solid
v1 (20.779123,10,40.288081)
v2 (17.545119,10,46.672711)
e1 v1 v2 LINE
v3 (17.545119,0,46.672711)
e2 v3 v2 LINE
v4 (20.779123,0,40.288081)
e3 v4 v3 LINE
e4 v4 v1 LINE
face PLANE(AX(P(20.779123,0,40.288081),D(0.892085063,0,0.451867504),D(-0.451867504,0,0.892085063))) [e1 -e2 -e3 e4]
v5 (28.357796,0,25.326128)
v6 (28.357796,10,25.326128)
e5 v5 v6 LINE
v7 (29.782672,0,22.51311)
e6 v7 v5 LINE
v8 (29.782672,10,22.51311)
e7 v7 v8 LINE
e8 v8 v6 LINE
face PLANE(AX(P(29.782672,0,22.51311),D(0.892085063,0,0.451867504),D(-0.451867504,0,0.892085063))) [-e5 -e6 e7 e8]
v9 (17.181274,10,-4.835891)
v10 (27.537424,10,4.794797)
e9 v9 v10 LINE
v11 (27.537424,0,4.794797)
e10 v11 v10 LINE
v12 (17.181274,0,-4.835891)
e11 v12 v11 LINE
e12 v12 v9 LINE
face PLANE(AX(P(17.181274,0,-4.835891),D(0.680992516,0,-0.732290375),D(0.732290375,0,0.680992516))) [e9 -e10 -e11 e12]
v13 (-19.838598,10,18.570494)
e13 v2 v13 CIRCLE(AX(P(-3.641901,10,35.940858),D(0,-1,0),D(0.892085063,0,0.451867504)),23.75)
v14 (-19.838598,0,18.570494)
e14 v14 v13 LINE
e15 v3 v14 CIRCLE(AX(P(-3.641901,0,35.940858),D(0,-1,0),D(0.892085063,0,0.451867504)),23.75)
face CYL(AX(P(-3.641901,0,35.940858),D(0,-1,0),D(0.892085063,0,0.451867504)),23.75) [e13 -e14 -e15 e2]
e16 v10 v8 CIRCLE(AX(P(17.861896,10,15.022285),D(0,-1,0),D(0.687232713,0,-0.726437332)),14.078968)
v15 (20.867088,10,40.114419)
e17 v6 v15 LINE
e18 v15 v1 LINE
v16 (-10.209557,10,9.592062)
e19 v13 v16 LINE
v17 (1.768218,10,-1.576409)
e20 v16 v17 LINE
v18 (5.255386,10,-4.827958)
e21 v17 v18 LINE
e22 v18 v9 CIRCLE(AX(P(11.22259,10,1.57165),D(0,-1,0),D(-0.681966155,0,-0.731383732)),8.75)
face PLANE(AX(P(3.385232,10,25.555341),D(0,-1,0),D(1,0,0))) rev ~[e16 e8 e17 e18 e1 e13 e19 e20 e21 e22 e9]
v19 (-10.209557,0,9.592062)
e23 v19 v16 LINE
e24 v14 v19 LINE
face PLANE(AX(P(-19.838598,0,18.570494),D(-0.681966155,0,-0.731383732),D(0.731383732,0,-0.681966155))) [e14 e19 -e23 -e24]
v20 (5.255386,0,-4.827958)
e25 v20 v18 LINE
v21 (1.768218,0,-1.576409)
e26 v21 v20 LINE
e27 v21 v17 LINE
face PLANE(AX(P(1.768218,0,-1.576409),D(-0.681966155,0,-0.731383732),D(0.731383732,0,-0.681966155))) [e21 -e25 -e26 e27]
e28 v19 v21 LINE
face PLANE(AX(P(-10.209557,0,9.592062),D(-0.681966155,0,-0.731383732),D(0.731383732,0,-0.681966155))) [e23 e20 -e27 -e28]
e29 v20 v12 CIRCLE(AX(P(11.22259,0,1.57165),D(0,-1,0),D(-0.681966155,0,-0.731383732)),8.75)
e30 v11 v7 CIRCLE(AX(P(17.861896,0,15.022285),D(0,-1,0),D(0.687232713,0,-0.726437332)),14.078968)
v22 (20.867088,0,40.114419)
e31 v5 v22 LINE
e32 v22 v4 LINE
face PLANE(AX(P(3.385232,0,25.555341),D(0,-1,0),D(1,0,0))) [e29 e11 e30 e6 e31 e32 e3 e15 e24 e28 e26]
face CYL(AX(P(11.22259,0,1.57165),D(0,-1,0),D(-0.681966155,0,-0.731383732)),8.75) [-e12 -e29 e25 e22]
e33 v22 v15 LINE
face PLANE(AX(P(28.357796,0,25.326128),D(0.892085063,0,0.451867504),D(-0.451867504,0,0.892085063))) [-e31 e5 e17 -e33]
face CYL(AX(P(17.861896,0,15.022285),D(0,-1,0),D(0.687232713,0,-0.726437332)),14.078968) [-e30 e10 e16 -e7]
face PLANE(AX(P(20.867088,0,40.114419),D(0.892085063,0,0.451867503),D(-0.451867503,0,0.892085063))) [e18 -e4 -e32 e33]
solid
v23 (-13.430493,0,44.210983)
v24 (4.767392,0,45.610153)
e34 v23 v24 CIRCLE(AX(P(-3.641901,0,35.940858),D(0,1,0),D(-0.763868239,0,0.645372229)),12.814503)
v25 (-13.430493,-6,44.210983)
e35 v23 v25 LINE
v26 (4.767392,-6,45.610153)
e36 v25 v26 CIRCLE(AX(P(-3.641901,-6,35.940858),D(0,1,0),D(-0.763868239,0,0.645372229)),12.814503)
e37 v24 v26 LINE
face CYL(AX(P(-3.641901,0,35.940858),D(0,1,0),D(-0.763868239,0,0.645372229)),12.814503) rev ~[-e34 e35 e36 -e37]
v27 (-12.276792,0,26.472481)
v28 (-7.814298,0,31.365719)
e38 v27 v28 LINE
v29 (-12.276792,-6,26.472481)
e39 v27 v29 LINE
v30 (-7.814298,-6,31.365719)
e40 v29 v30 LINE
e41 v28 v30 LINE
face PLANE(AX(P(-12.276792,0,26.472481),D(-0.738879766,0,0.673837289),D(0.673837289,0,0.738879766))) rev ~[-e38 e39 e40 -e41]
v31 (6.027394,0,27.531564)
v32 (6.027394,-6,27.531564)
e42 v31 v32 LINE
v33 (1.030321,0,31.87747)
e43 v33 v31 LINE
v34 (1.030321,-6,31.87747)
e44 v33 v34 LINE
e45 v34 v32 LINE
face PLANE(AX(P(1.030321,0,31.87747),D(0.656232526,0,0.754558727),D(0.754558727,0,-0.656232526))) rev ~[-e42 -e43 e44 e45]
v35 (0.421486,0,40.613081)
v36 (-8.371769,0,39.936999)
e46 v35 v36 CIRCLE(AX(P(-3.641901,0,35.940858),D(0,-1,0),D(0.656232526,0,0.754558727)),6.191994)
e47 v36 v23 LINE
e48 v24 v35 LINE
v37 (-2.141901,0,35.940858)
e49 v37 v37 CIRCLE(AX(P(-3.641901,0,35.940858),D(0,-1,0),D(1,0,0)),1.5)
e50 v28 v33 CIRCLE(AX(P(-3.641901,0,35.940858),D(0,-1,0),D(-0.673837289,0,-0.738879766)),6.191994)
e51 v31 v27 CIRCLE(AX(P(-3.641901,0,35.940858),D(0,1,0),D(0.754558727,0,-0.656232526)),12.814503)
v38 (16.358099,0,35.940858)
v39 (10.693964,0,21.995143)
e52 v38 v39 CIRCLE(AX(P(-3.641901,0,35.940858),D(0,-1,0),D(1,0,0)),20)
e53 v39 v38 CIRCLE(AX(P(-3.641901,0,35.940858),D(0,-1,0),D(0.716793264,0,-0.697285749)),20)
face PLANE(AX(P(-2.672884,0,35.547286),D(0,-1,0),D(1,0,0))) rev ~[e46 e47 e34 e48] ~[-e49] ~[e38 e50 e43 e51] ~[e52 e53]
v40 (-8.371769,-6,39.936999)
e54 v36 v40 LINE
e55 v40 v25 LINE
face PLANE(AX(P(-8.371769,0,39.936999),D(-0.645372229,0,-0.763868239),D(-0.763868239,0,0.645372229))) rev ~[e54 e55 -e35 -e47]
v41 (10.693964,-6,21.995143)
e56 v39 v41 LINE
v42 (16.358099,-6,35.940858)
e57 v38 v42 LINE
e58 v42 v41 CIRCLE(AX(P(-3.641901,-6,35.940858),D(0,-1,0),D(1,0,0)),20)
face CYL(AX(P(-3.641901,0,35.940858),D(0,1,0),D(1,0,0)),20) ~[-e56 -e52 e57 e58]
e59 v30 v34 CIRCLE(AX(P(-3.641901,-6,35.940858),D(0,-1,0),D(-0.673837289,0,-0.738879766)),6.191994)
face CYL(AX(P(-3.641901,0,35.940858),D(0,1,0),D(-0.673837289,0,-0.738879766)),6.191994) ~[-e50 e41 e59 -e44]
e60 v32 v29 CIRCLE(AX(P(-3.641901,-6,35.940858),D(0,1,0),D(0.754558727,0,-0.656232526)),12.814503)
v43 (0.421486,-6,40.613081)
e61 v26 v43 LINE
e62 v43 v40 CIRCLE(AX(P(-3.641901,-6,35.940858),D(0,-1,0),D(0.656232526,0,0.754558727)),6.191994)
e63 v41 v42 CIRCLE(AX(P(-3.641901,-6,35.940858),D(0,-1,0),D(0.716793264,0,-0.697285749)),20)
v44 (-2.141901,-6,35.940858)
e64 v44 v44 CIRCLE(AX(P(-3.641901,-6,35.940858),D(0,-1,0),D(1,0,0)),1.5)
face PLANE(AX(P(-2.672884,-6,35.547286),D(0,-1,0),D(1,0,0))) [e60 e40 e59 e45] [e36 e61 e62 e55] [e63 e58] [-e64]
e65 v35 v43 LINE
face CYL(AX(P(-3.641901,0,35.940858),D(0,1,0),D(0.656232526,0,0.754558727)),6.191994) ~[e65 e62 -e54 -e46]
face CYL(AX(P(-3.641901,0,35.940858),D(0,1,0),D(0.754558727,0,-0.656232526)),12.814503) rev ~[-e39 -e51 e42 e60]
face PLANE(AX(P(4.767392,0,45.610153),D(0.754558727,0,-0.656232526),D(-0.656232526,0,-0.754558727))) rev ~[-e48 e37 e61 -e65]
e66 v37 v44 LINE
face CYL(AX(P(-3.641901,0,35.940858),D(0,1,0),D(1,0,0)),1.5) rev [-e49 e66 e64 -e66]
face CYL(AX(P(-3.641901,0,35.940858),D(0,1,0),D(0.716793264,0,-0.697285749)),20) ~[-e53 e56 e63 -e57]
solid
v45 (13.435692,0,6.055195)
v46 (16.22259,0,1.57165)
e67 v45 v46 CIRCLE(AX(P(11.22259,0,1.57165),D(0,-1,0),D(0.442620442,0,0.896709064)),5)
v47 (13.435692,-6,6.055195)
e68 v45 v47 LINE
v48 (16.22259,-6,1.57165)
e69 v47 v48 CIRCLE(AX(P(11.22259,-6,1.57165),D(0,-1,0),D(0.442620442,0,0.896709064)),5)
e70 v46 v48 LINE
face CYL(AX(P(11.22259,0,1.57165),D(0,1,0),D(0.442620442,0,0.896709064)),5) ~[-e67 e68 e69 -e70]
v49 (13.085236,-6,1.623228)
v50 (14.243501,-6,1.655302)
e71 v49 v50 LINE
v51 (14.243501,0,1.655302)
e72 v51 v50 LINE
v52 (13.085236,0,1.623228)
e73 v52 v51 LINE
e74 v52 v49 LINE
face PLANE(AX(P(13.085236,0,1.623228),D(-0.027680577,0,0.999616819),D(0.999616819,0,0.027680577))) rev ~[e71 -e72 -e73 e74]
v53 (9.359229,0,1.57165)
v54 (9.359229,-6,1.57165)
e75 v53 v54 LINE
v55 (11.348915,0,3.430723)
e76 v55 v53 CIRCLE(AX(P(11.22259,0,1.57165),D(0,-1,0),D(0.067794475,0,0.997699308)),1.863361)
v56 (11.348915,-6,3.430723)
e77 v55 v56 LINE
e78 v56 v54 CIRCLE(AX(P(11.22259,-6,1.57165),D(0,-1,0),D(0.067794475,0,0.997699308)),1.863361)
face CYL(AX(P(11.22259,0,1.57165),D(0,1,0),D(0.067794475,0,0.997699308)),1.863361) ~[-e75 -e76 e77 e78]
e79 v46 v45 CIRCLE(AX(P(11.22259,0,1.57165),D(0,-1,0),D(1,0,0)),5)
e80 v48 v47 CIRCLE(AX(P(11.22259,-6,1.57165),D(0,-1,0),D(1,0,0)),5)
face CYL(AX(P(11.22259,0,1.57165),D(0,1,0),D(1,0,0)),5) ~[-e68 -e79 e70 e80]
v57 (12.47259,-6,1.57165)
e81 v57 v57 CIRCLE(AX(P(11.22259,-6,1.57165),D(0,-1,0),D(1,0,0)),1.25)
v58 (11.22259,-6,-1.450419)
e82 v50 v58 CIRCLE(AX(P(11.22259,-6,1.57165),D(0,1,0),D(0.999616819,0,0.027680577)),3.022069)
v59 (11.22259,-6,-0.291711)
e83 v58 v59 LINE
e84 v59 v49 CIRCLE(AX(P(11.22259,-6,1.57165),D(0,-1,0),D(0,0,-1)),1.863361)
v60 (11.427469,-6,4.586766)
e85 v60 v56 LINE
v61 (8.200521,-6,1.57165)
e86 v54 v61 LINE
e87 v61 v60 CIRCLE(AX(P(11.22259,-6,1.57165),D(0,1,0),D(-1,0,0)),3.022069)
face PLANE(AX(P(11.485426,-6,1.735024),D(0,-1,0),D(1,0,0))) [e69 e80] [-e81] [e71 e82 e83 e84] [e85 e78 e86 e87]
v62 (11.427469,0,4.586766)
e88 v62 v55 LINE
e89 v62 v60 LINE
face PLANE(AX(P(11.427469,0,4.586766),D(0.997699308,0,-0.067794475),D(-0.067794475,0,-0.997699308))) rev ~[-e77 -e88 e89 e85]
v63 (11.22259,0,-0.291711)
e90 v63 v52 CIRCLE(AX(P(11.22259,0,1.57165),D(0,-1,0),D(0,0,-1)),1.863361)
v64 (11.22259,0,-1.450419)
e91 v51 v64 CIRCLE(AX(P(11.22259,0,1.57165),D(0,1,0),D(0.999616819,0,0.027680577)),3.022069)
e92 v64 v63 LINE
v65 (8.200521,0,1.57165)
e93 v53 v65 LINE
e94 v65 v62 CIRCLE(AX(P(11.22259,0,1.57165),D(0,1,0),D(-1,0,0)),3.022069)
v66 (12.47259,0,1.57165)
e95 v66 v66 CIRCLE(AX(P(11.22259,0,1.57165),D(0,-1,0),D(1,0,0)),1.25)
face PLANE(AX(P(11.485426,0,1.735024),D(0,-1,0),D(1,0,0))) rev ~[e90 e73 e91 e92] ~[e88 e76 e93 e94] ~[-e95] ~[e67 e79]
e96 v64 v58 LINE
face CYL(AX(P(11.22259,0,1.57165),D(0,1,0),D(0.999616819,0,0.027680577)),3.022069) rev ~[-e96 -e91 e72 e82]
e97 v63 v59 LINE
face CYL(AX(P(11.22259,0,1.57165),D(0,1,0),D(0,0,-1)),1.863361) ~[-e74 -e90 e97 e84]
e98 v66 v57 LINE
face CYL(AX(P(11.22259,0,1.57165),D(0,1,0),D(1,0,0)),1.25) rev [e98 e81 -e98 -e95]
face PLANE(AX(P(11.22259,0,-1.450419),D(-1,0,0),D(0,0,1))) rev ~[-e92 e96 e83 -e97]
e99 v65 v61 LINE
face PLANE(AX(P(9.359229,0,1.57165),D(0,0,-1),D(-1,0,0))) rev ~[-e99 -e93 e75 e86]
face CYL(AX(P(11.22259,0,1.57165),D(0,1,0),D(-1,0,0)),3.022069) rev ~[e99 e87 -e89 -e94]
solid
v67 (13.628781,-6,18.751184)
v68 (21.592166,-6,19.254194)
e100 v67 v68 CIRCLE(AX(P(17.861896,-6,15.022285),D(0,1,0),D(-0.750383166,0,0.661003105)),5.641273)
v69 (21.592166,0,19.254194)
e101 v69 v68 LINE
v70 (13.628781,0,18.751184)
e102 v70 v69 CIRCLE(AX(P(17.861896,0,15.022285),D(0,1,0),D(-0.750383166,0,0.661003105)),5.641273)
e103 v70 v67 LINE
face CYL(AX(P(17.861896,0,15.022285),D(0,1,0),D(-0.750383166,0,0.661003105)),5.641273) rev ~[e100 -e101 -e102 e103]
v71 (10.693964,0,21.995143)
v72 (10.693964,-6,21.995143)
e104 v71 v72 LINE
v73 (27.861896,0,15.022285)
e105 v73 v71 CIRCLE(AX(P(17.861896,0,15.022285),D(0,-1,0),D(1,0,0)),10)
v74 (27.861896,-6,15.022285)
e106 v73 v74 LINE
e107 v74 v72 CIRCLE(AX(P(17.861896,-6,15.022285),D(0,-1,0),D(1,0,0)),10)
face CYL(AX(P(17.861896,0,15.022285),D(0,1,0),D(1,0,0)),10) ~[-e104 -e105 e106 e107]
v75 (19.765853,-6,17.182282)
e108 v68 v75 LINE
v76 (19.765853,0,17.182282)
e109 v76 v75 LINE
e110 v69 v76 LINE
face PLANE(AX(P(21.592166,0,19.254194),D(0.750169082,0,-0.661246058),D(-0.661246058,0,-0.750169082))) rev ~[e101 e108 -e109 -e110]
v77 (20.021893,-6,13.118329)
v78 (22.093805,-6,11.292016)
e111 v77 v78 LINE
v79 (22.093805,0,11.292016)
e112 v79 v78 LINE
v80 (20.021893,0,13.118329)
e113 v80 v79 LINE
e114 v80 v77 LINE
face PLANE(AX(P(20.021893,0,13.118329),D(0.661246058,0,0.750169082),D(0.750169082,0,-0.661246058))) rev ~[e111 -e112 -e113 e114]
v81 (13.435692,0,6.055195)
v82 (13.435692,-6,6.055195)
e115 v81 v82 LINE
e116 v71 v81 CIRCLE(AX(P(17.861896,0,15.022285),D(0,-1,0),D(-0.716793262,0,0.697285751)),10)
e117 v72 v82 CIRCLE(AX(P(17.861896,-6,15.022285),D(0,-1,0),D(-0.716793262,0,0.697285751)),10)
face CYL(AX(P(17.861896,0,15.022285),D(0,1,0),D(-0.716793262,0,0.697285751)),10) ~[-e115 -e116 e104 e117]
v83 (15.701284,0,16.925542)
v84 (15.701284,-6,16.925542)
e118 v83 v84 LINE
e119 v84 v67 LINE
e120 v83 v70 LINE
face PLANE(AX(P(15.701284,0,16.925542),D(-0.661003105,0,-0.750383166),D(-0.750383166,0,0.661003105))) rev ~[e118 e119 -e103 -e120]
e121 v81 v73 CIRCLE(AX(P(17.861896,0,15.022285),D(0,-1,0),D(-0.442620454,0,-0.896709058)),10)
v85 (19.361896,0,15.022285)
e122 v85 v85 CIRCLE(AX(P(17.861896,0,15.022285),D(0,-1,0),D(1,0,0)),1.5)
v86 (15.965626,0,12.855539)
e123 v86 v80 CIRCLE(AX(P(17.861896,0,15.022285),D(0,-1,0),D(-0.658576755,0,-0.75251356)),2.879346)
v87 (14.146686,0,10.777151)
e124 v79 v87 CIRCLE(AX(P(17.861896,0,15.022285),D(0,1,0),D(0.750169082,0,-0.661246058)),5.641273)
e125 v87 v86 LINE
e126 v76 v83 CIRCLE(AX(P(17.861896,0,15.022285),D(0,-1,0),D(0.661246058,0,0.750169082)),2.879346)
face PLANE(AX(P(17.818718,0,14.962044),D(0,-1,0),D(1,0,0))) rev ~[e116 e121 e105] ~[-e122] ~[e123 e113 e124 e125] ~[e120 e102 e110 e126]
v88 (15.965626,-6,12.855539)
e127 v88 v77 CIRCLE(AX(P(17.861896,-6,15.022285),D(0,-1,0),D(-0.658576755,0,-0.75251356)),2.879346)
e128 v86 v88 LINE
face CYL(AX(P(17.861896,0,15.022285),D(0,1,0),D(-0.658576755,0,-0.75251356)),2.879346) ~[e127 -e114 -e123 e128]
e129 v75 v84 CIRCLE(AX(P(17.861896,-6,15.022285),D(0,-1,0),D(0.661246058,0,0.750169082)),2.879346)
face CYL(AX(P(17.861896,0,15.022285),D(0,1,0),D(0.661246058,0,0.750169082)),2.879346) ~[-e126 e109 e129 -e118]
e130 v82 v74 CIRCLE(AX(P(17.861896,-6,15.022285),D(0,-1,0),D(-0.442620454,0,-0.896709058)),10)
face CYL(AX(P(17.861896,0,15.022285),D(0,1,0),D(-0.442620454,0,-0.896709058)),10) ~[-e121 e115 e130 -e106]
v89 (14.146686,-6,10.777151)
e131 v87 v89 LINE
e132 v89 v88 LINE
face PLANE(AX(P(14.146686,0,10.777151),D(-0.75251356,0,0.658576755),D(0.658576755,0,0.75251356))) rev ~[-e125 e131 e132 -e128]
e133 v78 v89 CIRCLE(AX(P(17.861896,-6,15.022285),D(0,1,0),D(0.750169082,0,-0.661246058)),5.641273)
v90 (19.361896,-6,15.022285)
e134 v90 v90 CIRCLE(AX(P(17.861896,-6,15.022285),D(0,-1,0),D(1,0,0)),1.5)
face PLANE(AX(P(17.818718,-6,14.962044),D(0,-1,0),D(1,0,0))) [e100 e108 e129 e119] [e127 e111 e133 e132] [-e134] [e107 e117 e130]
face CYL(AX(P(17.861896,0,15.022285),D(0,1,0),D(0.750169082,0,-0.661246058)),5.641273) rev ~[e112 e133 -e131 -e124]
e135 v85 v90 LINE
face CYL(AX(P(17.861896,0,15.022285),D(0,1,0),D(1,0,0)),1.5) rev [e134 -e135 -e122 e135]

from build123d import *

# Parameters (mm, degrees)
F0_R     = 1.5
F1_DEPTH = 6
F0_R_2   = 1.25
F2_DEPTH = 10


with BuildPart() as f1:
    # F0 (on Front) → F1 (new body)
    with BuildSketch(Plane.XZ):
        with BuildLine():
            ThreePointArc((16.3580985837, 35.9408579887), (-22.1718407809, 43.466902577), (10.6939638692, 21.9951430011))
            ThreePointArc((10.6939638692, 21.9951430011), (14.8880379483, 28.4148134004), (16.3580985837, 35.9408579887))
        make_face()
        with BuildLine():
            ThreePointArc((6.0273938907, 27.5315641069), (-2.9016900494, 23.1477511551), (-12.2767915919, 26.4724807793))
            Line((-12.2767915919, 26.4724807793), (-7.8142975918, 31.3657192142))
            ThreePointArc((-7.8142975918, 31.3657192142), (-3.2842298057, 29.7592032207), (1.0303213842, 31.8774703929))
            Line((1.0303213842, 31.8774703929), (6.0273938907, 27.5315641069))
        make_face(mode=Mode.SUBTRACT)
        with Locations((-3.6419014163, 35.9408579887)):
            Circle(F0_R, mode=Mode.SUBTRACT)
        with BuildLine():
            Line((-8.3717686573, 39.9369986937), (-13.4304934995, 44.2109825557))
            ThreePointArc((-13.4304934995, 44.2109825557), (-4.624263657, 48.7176517866), (4.7673924656, 45.6101532957))
            Line((4.7673924656, 45.6101532957), (0.4214861795, 40.6130807892))
            ThreePointArc((0.4214861795, 40.6130807892), (-4.1165808127, 42.1146302652), (-8.3717686573, 39.9369986937))
        make_face(mode=Mode.SUBTRACT)
    extrude(amount=F1_DEPTH)


with BuildPart() as f1b:
    # F0 (on Front) → F1, piece 2 (new body)
    with BuildSketch(Plane.XZ):
        with BuildLine():
            ThreePointArc((13.435691954, 6.055194912), (23.1410041166, 6.529287036), (27.8618964924, 15.0222854872))
            ThreePointArc((27.8618964924, 15.0222854872), (21.6249187996, 24.2872551642), (10.6939638692, 21.9951430011))
            ThreePointArc((10.6939638692, 21.9951430011), (8.0066192055, 13.3271425439), (13.435691954, 6.055194912))
        make_face()
        with BuildLine():
            ThreePointArc((22.093804723, 11.2920162674), (18.2266093558, 9.392814797), (14.1466855378, 10.7771514154))
            Line((14.1466855378, 10.7771514154), (15.9656262669, 12.8555387151))
            ThreePointArc((15.9656262669, 12.8555387151), (18.0480485447, 12.1489634106), (20.0218927007, 13.1183294155))
            Line((20.0218927007, 13.1183294155), (22.093804723, 11.2920162674))
        make_face(mode=Mode.SUBTRACT)
        with Locations((17.8618964924, 15.0222854872)):
            Circle(F0_R, mode=Mode.SUBTRACT)
        with BuildLine():
            Line((21.5921657123, 19.2541937178), (19.7658525641, 17.1822816954))
            ThreePointArc((19.7658525641, 17.1822816954), (17.6803835082, 17.8959043518), (15.7012838619, 16.9255420131))
            Line((15.7012838619, 16.9255420131), (13.6287805547, 18.7511841427))
            ThreePointArc((13.6287805547, 18.7511841427), (17.5062725849, 20.6523376505), (21.5921657123, 19.2541937178))
        make_face(mode=Mode.SUBTRACT)
    extrude(amount=F1_DEPTH)


with BuildPart() as f1c:
    # F0 (on Front) → F1, piece 3 (new body)
    with BuildSketch(Plane.XZ):
        with BuildLine():
            ThreePointArc((16.2225897462, 1.5716495941), (15.4690889537, 4.2112034353), (13.435691954, 6.055194912))
            ThreePointArc((13.435691954, 6.055194912), (6.9760905387, -1.0679042471), (16.2225897462, 1.5716495941))
        make_face()
        with BuildLine():
            ThreePointArc((14.243500535, 1.6553022013), (13.3888888582, -0.5354925249), (11.2225897462, -1.4504191928))
            Line((11.2225897462, -1.4504191928), (11.2225897462, -0.2917109707))
            ThreePointArc((11.2225897462, -0.2917109707), (12.5582960526, 0.2724185686), (13.0852363074, 1.6232284893))
            Line((13.0852363074, 1.6232284893), (14.243500535, 1.6553022013))
        make_face(mode=Mode.SUBTRACT)
        with Locations((11.2225897462, 1.5716495941)):
            Circle(F0_R_2, mode=Mode.SUBTRACT)
        with BuildLine():
            Line((11.4274693125, 4.5867655315), (11.3489152971, 3.4307231402))
            ThreePointArc((11.3489152971, 3.4307231402), (9.950441456, 2.9331749601), (9.3592291814, 1.5716495941))
            Line((9.3592291814, 1.5716495941), (8.2005209593, 1.5716495941))
            ThreePointArc((8.2005209593, 1.5716495941), (9.1593714337, 3.7798230356), (11.4274693125, 4.5867655315))
        make_face(mode=Mode.SUBTRACT)
    extrude(amount=F1_DEPTH)


with BuildPart() as f2:
    # F0 (on Front) → F2 (new body)
    with BuildSketch(Plane.XZ):
        with BuildLine():
            Line((20.7791233288, 40.2880805518), (17.5451188249, 46.6727111977))
            ThreePointArc((17.5451188249, 46.6727111977), (-17.9128327561, 54.9251414541), (-19.8385976064, 18.5704943619))
            Line((-19.8385976064, 18.5704943619), (-10.2095571952, 9.5920615846))
            Line((-10.2095571952, 9.5920615846), (-7.1513450091, 12.8718821787))
            Line((-7.1513450091, 12.8718821787), (3.2381131314, 12.8718821787))
            Line((3.2381131314, 12.8718821787), (3.2381131314, 0))
            Line((3.2381131314, 0), (1.7682181228, -1.5764085769))
            Line((1.7682181228, -1.5764085769), (5.2553858867, -4.8279580579))
            ThreePointArc((5.2553858867, -4.8279580579), (11.2167692255, -7.17834847), (17.1812742584, -4.8358911888))
            Line((17.1812742584, -4.8358911888), (27.5374240602, 4.7947973267))
            ThreePointArc((27.5374240602, 4.7947973267), (31.8291700474, 13.2523653679), (29.7826724027, 22.5131098402))
            Line((29.7826724027, 22.5131098402), (28.3577955273, 25.3261277423))
            Line((28.3577955273, 25.3261277423), (20.8670881614, 28.5439335322))
            Line((20.8670881614, 28.5439335322), (20.8670881614, 40.1144187757))
            Line((20.8670881614, 40.1144187757), (20.7791233288, 40.2880805518))
        make_face()
        with BuildLine():
            ThreePointArc((16.2225897462, 1.5716495941), (6.9760905387, -1.0679042471), (13.435691954, 6.055194912))
            ThreePointArc((13.435691954, 6.055194912), (15.4690889537, 4.2112034353), (16.2225897462, 1.5716495941))
        make_face(mode=Mode.SUBTRACT)
        with BuildLine():
            ThreePointArc((10.6939638692, 21.9951430011), (21.6249187996, 24.2872551642), (27.8618964924, 15.0222854872))
            ThreePointArc((27.8618964924, 15.0222854872), (23.1410041166, 6.529287036), (13.435691954, 6.055194912))
            ThreePointArc((13.435691954, 6.055194912), (8.0066192055, 13.3271425439), (10.6939638692, 21.9951430011))
        make_face(mode=Mode.SUBTRACT)
        with BuildLine():
            ThreePointArc((16.3580985837, 35.9408579887), (14.8880379483, 28.4148134004), (10.6939638692, 21.9951430011))
            ThreePointArc((10.6939638692, 21.9951430011), (-22.1718407809, 43.466902577), (16.3580985837, 35.9408579887))
        make_face(mode=Mode.SUBTRACT)
        with BuildLine():
            ThreePointArc((16.3580985837, 35.9408579887), (-22.1718407809, 43.466902577), (10.6939638692, 21.9951430011))
            ThreePointArc((10.6939638692, 21.9951430011), (14.8880379483, 28.4148134004), (16.3580985837, 35.9408579887))
        make_face()
        with BuildLine():
            ThreePointArc((6.0273938907, 27.5315641069), (-2.9016900494, 23.1477511551), (-12.2767915919, 26.4724807793))
            Line((-12.2767915919, 26.4724807793), (-7.8142975918, 31.3657192142))
            ThreePointArc((-7.8142975918, 31.3657192142), (-3.2842298057, 29.7592032207), (1.0303213842, 31.8774703929))
            Line((1.0303213842, 31.8774703929), (6.0273938907, 27.5315641069))
        make_face(mode=Mode.SUBTRACT)
        with Locations((-3.6419014163, 35.9408579887)):
            Circle(F0_R, mode=Mode.SUBTRACT)
        with BuildLine():
            Line((-8.3717686573, 39.9369986937), (-13.4304934995, 44.2109825557))
            ThreePointArc((-13.4304934995, 44.2109825557), (-4.624263657, 48.7176517866), (4.7673924656, 45.6101532957))
            Line((4.7673924656, 45.6101532957), (0.4214861795, 40.6130807892))
            ThreePointArc((0.4214861795, 40.6130807892), (-4.1165808127, 42.1146302652), (-8.3717686573, 39.9369986937))
        make_face(mode=Mode.SUBTRACT)
        with BuildLine():
            ThreePointArc((13.435691954, 6.055194912), (23.1410041166, 6.529287036), (27.8618964924, 15.0222854872))
            ThreePointArc((27.8618964924, 15.0222854872), (21.6249187996, 24.2872551642), (10.6939638692, 21.9951430011))
            ThreePointArc((10.6939638692, 21.9951430011), (8.0066192055, 13.3271425439), (13.435691954, 6.055194912))
        make_face()
        with BuildLine():
            ThreePointArc((22.093804723, 11.2920162674), (18.2266093558, 9.392814797), (14.1466855378, 10.7771514154))
            Line((14.1466855378, 10.7771514154), (15.9656262669, 12.8555387151))
            ThreePointArc((15.9656262669, 12.8555387151), (18.0480485447, 12.1489634106), (20.0218927007, 13.1183294155))
            Line((20.0218927007, 13.1183294155), (22.093804723, 11.2920162674))
        make_face(mode=Mode.SUBTRACT)
        with Locations((17.8618964924, 15.0222854872)):
            Circle(F0_R, mode=Mode.SUBTRACT)
        with BuildLine():
            Line((21.5921657123, 19.2541937178), (19.7658525641, 17.1822816954))
            ThreePointArc((19.7658525641, 17.1822816954), (17.6803835082, 17.8959043518), (15.7012838619, 16.9255420131))
            Line((15.7012838619, 16.9255420131), (13.6287805547, 18.7511841427))
            ThreePointArc((13.6287805547, 18.7511841427), (17.5062725849, 20.6523376505), (21.5921657123, 19.2541937178))
        make_face(mode=Mode.SUBTRACT)
        Polygon((-7.1513450091, 12.8718821787), (-10.2095571952, 9.5920615846), (1.7682181228, -1.5764085769), (3.2381131314, 0), (3.2381131314, 12.8718821787), align=None)
        with BuildLine():
            Line((-7.8142975918, 31.3657192142), (-12.2767915919, 26.4724807793))
            ThreePointArc((-12.2767915919, 26.4724807793), (-2.9016900494, 23.1477511551), (6.0273938907, 27.5315641069))
            Line((6.0273938907, 27.5315641069), (1.0303213842, 31.8774703929))
            ThreePointArc((1.0303213842, 31.8774703929), (-3.2842298057, 29.7592032207), (-7.8142975918, 31.3657192142))
        make_face()
        with BuildLine():
            ThreePointArc((4.7673924656, 45.6101532957), (-4.624263657, 48.7176517866), (-13.4304934995, 44.2109825557))
            Line((-13.4304934995, 44.2109825557), (-8.3717686573, 39.9369986937))
            ThreePointArc((-8.3717686573, 39.9369986937), (-4.1165808127, 42.1146302652), (0.4214861795, 40.6130807892))
            Line((0.4214861795, 40.6130807892), (4.7673924656, 45.6101532957))
        make_face()
        with BuildLine():
            ThreePointArc((16.2225897462, 1.5716495941), (15.4690889537, 4.2112034353), (13.435691954, 6.055194912))
            ThreePointArc((13.435691954, 6.055194912), (6.9760905387, -1.0679042471), (16.2225897462, 1.5716495941))
        make_face()
        with BuildLine():
            ThreePointArc((14.243500535, 1.6553022013), (13.3888888582, -0.5354925249), (11.2225897462, -1.4504191928))
            Line((11.2225897462, -1.4504191928), (11.2225897462, -0.2917109707))
            ThreePointArc((11.2225897462, -0.2917109707), (12.5582960526, 0.2724185686), (13.0852363074, 1.6232284893))
            Line((13.0852363074, 1.6232284893), (14.243500535, 1.6553022013))
        make_face(mode=Mode.SUBTRACT)
        with Locations((11.2225897462, 1.5716495941)):
            Circle(F0_R_2, mode=Mode.SUBTRACT)
        with BuildLine():
            Line((11.4274693125, 4.5867655315), (11.3489152971, 3.4307231402))
            ThreePointArc((11.3489152971, 3.4307231402), (9.950441456, 2.9331749601), (9.3592291814, 1.5716495941))
            Line((9.3592291814, 1.5716495941), (8.2005209593, 1.5716495941))
            ThreePointArc((8.2005209593, 1.5716495941), (9.1593714337, 3.7798230356), (11.4274693125, 4.5867655315))
        make_face(mode=Mode.SUBTRACT)
        Polygon((28.3577955273, 25.3261277423), (20.8670881614, 40.1144187757), (20.8670881614, 28.5439335322), align=None)
        with BuildLine():
            ThreePointArc((15.7012838619, 16.9255420131), (17.6803835082, 17.8959043518), (19.7658525641, 17.1822816954))
            Line((19.7658525641, 17.1822816954), (21.5921657123, 19.2541937178))
            ThreePointArc((21.5921657123, 19.2541937178), (17.5062725849, 20.6523376505), (13.6287805547, 18.7511841427))
            Line((13.6287805547, 18.7511841427), (15.7012838619, 16.9255420131))
        make_face()
        with BuildLine():
            Line((15.9656262669, 12.8555387151), (14.1466855378, 10.7771514154))
            ThreePointArc((14.1466855378, 10.7771514154), (18.2266093558, 9.392814797), (22.093804723, 11.2920162674))
            Line((22.093804723, 11.2920162674), (20.0218927007, 13.1183294155))
            ThreePointArc((20.0218927007, 13.1183294155), (18.0480485447, 12.1489634106), (15.9656262669, 12.8555387151))
        make_face()
        with Locations((17.8618964924, 15.0222854872)):
            Circle(F0_R)
        with Locations((-3.6419014163, 35.9408579887)):
            Circle(F0_R)
        with Locations((11.2225897462, 1.5716495941)):
            Circle(F0_R_2)
        with BuildLine():
            ThreePointArc((9.3592291814, 1.5716495941), (9.950441456, 2.9331749601), (11.3489152971, 3.4307231402))
            Line((11.3489152971, 3.4307231402), (11.4274693125, 4.5867655315))
            ThreePointArc((11.4274693125, 4.5867655315), (9.1593714337, 3.7798230356), (8.2005209593, 1.5716495941))
            Line((8.2005209593, 1.5716495941), (9.3592291814, 1.5716495941))
        make_face()
        with BuildLine():
            Line((11.2225897462, -0.2917109707), (11.2225897462, -1.4504191928))
            ThreePointArc((11.2225897462, -1.4504191928), (13.3888888582, -0.5354925249), (14.243500535, 1.6553022013))
            Line((14.243500535, 1.6553022013), (13.0852363074, 1.6232284893))
            ThreePointArc((13.0852363074, 1.6232284893), (12.5582960526, 0.2724185686), (11.2225897462, -0.2917109707))
        make_face()
    extrude(amount=-F2_DEPTH)


solid = Compound([f1.part, f1b.part, f1c.part, f2.part])
